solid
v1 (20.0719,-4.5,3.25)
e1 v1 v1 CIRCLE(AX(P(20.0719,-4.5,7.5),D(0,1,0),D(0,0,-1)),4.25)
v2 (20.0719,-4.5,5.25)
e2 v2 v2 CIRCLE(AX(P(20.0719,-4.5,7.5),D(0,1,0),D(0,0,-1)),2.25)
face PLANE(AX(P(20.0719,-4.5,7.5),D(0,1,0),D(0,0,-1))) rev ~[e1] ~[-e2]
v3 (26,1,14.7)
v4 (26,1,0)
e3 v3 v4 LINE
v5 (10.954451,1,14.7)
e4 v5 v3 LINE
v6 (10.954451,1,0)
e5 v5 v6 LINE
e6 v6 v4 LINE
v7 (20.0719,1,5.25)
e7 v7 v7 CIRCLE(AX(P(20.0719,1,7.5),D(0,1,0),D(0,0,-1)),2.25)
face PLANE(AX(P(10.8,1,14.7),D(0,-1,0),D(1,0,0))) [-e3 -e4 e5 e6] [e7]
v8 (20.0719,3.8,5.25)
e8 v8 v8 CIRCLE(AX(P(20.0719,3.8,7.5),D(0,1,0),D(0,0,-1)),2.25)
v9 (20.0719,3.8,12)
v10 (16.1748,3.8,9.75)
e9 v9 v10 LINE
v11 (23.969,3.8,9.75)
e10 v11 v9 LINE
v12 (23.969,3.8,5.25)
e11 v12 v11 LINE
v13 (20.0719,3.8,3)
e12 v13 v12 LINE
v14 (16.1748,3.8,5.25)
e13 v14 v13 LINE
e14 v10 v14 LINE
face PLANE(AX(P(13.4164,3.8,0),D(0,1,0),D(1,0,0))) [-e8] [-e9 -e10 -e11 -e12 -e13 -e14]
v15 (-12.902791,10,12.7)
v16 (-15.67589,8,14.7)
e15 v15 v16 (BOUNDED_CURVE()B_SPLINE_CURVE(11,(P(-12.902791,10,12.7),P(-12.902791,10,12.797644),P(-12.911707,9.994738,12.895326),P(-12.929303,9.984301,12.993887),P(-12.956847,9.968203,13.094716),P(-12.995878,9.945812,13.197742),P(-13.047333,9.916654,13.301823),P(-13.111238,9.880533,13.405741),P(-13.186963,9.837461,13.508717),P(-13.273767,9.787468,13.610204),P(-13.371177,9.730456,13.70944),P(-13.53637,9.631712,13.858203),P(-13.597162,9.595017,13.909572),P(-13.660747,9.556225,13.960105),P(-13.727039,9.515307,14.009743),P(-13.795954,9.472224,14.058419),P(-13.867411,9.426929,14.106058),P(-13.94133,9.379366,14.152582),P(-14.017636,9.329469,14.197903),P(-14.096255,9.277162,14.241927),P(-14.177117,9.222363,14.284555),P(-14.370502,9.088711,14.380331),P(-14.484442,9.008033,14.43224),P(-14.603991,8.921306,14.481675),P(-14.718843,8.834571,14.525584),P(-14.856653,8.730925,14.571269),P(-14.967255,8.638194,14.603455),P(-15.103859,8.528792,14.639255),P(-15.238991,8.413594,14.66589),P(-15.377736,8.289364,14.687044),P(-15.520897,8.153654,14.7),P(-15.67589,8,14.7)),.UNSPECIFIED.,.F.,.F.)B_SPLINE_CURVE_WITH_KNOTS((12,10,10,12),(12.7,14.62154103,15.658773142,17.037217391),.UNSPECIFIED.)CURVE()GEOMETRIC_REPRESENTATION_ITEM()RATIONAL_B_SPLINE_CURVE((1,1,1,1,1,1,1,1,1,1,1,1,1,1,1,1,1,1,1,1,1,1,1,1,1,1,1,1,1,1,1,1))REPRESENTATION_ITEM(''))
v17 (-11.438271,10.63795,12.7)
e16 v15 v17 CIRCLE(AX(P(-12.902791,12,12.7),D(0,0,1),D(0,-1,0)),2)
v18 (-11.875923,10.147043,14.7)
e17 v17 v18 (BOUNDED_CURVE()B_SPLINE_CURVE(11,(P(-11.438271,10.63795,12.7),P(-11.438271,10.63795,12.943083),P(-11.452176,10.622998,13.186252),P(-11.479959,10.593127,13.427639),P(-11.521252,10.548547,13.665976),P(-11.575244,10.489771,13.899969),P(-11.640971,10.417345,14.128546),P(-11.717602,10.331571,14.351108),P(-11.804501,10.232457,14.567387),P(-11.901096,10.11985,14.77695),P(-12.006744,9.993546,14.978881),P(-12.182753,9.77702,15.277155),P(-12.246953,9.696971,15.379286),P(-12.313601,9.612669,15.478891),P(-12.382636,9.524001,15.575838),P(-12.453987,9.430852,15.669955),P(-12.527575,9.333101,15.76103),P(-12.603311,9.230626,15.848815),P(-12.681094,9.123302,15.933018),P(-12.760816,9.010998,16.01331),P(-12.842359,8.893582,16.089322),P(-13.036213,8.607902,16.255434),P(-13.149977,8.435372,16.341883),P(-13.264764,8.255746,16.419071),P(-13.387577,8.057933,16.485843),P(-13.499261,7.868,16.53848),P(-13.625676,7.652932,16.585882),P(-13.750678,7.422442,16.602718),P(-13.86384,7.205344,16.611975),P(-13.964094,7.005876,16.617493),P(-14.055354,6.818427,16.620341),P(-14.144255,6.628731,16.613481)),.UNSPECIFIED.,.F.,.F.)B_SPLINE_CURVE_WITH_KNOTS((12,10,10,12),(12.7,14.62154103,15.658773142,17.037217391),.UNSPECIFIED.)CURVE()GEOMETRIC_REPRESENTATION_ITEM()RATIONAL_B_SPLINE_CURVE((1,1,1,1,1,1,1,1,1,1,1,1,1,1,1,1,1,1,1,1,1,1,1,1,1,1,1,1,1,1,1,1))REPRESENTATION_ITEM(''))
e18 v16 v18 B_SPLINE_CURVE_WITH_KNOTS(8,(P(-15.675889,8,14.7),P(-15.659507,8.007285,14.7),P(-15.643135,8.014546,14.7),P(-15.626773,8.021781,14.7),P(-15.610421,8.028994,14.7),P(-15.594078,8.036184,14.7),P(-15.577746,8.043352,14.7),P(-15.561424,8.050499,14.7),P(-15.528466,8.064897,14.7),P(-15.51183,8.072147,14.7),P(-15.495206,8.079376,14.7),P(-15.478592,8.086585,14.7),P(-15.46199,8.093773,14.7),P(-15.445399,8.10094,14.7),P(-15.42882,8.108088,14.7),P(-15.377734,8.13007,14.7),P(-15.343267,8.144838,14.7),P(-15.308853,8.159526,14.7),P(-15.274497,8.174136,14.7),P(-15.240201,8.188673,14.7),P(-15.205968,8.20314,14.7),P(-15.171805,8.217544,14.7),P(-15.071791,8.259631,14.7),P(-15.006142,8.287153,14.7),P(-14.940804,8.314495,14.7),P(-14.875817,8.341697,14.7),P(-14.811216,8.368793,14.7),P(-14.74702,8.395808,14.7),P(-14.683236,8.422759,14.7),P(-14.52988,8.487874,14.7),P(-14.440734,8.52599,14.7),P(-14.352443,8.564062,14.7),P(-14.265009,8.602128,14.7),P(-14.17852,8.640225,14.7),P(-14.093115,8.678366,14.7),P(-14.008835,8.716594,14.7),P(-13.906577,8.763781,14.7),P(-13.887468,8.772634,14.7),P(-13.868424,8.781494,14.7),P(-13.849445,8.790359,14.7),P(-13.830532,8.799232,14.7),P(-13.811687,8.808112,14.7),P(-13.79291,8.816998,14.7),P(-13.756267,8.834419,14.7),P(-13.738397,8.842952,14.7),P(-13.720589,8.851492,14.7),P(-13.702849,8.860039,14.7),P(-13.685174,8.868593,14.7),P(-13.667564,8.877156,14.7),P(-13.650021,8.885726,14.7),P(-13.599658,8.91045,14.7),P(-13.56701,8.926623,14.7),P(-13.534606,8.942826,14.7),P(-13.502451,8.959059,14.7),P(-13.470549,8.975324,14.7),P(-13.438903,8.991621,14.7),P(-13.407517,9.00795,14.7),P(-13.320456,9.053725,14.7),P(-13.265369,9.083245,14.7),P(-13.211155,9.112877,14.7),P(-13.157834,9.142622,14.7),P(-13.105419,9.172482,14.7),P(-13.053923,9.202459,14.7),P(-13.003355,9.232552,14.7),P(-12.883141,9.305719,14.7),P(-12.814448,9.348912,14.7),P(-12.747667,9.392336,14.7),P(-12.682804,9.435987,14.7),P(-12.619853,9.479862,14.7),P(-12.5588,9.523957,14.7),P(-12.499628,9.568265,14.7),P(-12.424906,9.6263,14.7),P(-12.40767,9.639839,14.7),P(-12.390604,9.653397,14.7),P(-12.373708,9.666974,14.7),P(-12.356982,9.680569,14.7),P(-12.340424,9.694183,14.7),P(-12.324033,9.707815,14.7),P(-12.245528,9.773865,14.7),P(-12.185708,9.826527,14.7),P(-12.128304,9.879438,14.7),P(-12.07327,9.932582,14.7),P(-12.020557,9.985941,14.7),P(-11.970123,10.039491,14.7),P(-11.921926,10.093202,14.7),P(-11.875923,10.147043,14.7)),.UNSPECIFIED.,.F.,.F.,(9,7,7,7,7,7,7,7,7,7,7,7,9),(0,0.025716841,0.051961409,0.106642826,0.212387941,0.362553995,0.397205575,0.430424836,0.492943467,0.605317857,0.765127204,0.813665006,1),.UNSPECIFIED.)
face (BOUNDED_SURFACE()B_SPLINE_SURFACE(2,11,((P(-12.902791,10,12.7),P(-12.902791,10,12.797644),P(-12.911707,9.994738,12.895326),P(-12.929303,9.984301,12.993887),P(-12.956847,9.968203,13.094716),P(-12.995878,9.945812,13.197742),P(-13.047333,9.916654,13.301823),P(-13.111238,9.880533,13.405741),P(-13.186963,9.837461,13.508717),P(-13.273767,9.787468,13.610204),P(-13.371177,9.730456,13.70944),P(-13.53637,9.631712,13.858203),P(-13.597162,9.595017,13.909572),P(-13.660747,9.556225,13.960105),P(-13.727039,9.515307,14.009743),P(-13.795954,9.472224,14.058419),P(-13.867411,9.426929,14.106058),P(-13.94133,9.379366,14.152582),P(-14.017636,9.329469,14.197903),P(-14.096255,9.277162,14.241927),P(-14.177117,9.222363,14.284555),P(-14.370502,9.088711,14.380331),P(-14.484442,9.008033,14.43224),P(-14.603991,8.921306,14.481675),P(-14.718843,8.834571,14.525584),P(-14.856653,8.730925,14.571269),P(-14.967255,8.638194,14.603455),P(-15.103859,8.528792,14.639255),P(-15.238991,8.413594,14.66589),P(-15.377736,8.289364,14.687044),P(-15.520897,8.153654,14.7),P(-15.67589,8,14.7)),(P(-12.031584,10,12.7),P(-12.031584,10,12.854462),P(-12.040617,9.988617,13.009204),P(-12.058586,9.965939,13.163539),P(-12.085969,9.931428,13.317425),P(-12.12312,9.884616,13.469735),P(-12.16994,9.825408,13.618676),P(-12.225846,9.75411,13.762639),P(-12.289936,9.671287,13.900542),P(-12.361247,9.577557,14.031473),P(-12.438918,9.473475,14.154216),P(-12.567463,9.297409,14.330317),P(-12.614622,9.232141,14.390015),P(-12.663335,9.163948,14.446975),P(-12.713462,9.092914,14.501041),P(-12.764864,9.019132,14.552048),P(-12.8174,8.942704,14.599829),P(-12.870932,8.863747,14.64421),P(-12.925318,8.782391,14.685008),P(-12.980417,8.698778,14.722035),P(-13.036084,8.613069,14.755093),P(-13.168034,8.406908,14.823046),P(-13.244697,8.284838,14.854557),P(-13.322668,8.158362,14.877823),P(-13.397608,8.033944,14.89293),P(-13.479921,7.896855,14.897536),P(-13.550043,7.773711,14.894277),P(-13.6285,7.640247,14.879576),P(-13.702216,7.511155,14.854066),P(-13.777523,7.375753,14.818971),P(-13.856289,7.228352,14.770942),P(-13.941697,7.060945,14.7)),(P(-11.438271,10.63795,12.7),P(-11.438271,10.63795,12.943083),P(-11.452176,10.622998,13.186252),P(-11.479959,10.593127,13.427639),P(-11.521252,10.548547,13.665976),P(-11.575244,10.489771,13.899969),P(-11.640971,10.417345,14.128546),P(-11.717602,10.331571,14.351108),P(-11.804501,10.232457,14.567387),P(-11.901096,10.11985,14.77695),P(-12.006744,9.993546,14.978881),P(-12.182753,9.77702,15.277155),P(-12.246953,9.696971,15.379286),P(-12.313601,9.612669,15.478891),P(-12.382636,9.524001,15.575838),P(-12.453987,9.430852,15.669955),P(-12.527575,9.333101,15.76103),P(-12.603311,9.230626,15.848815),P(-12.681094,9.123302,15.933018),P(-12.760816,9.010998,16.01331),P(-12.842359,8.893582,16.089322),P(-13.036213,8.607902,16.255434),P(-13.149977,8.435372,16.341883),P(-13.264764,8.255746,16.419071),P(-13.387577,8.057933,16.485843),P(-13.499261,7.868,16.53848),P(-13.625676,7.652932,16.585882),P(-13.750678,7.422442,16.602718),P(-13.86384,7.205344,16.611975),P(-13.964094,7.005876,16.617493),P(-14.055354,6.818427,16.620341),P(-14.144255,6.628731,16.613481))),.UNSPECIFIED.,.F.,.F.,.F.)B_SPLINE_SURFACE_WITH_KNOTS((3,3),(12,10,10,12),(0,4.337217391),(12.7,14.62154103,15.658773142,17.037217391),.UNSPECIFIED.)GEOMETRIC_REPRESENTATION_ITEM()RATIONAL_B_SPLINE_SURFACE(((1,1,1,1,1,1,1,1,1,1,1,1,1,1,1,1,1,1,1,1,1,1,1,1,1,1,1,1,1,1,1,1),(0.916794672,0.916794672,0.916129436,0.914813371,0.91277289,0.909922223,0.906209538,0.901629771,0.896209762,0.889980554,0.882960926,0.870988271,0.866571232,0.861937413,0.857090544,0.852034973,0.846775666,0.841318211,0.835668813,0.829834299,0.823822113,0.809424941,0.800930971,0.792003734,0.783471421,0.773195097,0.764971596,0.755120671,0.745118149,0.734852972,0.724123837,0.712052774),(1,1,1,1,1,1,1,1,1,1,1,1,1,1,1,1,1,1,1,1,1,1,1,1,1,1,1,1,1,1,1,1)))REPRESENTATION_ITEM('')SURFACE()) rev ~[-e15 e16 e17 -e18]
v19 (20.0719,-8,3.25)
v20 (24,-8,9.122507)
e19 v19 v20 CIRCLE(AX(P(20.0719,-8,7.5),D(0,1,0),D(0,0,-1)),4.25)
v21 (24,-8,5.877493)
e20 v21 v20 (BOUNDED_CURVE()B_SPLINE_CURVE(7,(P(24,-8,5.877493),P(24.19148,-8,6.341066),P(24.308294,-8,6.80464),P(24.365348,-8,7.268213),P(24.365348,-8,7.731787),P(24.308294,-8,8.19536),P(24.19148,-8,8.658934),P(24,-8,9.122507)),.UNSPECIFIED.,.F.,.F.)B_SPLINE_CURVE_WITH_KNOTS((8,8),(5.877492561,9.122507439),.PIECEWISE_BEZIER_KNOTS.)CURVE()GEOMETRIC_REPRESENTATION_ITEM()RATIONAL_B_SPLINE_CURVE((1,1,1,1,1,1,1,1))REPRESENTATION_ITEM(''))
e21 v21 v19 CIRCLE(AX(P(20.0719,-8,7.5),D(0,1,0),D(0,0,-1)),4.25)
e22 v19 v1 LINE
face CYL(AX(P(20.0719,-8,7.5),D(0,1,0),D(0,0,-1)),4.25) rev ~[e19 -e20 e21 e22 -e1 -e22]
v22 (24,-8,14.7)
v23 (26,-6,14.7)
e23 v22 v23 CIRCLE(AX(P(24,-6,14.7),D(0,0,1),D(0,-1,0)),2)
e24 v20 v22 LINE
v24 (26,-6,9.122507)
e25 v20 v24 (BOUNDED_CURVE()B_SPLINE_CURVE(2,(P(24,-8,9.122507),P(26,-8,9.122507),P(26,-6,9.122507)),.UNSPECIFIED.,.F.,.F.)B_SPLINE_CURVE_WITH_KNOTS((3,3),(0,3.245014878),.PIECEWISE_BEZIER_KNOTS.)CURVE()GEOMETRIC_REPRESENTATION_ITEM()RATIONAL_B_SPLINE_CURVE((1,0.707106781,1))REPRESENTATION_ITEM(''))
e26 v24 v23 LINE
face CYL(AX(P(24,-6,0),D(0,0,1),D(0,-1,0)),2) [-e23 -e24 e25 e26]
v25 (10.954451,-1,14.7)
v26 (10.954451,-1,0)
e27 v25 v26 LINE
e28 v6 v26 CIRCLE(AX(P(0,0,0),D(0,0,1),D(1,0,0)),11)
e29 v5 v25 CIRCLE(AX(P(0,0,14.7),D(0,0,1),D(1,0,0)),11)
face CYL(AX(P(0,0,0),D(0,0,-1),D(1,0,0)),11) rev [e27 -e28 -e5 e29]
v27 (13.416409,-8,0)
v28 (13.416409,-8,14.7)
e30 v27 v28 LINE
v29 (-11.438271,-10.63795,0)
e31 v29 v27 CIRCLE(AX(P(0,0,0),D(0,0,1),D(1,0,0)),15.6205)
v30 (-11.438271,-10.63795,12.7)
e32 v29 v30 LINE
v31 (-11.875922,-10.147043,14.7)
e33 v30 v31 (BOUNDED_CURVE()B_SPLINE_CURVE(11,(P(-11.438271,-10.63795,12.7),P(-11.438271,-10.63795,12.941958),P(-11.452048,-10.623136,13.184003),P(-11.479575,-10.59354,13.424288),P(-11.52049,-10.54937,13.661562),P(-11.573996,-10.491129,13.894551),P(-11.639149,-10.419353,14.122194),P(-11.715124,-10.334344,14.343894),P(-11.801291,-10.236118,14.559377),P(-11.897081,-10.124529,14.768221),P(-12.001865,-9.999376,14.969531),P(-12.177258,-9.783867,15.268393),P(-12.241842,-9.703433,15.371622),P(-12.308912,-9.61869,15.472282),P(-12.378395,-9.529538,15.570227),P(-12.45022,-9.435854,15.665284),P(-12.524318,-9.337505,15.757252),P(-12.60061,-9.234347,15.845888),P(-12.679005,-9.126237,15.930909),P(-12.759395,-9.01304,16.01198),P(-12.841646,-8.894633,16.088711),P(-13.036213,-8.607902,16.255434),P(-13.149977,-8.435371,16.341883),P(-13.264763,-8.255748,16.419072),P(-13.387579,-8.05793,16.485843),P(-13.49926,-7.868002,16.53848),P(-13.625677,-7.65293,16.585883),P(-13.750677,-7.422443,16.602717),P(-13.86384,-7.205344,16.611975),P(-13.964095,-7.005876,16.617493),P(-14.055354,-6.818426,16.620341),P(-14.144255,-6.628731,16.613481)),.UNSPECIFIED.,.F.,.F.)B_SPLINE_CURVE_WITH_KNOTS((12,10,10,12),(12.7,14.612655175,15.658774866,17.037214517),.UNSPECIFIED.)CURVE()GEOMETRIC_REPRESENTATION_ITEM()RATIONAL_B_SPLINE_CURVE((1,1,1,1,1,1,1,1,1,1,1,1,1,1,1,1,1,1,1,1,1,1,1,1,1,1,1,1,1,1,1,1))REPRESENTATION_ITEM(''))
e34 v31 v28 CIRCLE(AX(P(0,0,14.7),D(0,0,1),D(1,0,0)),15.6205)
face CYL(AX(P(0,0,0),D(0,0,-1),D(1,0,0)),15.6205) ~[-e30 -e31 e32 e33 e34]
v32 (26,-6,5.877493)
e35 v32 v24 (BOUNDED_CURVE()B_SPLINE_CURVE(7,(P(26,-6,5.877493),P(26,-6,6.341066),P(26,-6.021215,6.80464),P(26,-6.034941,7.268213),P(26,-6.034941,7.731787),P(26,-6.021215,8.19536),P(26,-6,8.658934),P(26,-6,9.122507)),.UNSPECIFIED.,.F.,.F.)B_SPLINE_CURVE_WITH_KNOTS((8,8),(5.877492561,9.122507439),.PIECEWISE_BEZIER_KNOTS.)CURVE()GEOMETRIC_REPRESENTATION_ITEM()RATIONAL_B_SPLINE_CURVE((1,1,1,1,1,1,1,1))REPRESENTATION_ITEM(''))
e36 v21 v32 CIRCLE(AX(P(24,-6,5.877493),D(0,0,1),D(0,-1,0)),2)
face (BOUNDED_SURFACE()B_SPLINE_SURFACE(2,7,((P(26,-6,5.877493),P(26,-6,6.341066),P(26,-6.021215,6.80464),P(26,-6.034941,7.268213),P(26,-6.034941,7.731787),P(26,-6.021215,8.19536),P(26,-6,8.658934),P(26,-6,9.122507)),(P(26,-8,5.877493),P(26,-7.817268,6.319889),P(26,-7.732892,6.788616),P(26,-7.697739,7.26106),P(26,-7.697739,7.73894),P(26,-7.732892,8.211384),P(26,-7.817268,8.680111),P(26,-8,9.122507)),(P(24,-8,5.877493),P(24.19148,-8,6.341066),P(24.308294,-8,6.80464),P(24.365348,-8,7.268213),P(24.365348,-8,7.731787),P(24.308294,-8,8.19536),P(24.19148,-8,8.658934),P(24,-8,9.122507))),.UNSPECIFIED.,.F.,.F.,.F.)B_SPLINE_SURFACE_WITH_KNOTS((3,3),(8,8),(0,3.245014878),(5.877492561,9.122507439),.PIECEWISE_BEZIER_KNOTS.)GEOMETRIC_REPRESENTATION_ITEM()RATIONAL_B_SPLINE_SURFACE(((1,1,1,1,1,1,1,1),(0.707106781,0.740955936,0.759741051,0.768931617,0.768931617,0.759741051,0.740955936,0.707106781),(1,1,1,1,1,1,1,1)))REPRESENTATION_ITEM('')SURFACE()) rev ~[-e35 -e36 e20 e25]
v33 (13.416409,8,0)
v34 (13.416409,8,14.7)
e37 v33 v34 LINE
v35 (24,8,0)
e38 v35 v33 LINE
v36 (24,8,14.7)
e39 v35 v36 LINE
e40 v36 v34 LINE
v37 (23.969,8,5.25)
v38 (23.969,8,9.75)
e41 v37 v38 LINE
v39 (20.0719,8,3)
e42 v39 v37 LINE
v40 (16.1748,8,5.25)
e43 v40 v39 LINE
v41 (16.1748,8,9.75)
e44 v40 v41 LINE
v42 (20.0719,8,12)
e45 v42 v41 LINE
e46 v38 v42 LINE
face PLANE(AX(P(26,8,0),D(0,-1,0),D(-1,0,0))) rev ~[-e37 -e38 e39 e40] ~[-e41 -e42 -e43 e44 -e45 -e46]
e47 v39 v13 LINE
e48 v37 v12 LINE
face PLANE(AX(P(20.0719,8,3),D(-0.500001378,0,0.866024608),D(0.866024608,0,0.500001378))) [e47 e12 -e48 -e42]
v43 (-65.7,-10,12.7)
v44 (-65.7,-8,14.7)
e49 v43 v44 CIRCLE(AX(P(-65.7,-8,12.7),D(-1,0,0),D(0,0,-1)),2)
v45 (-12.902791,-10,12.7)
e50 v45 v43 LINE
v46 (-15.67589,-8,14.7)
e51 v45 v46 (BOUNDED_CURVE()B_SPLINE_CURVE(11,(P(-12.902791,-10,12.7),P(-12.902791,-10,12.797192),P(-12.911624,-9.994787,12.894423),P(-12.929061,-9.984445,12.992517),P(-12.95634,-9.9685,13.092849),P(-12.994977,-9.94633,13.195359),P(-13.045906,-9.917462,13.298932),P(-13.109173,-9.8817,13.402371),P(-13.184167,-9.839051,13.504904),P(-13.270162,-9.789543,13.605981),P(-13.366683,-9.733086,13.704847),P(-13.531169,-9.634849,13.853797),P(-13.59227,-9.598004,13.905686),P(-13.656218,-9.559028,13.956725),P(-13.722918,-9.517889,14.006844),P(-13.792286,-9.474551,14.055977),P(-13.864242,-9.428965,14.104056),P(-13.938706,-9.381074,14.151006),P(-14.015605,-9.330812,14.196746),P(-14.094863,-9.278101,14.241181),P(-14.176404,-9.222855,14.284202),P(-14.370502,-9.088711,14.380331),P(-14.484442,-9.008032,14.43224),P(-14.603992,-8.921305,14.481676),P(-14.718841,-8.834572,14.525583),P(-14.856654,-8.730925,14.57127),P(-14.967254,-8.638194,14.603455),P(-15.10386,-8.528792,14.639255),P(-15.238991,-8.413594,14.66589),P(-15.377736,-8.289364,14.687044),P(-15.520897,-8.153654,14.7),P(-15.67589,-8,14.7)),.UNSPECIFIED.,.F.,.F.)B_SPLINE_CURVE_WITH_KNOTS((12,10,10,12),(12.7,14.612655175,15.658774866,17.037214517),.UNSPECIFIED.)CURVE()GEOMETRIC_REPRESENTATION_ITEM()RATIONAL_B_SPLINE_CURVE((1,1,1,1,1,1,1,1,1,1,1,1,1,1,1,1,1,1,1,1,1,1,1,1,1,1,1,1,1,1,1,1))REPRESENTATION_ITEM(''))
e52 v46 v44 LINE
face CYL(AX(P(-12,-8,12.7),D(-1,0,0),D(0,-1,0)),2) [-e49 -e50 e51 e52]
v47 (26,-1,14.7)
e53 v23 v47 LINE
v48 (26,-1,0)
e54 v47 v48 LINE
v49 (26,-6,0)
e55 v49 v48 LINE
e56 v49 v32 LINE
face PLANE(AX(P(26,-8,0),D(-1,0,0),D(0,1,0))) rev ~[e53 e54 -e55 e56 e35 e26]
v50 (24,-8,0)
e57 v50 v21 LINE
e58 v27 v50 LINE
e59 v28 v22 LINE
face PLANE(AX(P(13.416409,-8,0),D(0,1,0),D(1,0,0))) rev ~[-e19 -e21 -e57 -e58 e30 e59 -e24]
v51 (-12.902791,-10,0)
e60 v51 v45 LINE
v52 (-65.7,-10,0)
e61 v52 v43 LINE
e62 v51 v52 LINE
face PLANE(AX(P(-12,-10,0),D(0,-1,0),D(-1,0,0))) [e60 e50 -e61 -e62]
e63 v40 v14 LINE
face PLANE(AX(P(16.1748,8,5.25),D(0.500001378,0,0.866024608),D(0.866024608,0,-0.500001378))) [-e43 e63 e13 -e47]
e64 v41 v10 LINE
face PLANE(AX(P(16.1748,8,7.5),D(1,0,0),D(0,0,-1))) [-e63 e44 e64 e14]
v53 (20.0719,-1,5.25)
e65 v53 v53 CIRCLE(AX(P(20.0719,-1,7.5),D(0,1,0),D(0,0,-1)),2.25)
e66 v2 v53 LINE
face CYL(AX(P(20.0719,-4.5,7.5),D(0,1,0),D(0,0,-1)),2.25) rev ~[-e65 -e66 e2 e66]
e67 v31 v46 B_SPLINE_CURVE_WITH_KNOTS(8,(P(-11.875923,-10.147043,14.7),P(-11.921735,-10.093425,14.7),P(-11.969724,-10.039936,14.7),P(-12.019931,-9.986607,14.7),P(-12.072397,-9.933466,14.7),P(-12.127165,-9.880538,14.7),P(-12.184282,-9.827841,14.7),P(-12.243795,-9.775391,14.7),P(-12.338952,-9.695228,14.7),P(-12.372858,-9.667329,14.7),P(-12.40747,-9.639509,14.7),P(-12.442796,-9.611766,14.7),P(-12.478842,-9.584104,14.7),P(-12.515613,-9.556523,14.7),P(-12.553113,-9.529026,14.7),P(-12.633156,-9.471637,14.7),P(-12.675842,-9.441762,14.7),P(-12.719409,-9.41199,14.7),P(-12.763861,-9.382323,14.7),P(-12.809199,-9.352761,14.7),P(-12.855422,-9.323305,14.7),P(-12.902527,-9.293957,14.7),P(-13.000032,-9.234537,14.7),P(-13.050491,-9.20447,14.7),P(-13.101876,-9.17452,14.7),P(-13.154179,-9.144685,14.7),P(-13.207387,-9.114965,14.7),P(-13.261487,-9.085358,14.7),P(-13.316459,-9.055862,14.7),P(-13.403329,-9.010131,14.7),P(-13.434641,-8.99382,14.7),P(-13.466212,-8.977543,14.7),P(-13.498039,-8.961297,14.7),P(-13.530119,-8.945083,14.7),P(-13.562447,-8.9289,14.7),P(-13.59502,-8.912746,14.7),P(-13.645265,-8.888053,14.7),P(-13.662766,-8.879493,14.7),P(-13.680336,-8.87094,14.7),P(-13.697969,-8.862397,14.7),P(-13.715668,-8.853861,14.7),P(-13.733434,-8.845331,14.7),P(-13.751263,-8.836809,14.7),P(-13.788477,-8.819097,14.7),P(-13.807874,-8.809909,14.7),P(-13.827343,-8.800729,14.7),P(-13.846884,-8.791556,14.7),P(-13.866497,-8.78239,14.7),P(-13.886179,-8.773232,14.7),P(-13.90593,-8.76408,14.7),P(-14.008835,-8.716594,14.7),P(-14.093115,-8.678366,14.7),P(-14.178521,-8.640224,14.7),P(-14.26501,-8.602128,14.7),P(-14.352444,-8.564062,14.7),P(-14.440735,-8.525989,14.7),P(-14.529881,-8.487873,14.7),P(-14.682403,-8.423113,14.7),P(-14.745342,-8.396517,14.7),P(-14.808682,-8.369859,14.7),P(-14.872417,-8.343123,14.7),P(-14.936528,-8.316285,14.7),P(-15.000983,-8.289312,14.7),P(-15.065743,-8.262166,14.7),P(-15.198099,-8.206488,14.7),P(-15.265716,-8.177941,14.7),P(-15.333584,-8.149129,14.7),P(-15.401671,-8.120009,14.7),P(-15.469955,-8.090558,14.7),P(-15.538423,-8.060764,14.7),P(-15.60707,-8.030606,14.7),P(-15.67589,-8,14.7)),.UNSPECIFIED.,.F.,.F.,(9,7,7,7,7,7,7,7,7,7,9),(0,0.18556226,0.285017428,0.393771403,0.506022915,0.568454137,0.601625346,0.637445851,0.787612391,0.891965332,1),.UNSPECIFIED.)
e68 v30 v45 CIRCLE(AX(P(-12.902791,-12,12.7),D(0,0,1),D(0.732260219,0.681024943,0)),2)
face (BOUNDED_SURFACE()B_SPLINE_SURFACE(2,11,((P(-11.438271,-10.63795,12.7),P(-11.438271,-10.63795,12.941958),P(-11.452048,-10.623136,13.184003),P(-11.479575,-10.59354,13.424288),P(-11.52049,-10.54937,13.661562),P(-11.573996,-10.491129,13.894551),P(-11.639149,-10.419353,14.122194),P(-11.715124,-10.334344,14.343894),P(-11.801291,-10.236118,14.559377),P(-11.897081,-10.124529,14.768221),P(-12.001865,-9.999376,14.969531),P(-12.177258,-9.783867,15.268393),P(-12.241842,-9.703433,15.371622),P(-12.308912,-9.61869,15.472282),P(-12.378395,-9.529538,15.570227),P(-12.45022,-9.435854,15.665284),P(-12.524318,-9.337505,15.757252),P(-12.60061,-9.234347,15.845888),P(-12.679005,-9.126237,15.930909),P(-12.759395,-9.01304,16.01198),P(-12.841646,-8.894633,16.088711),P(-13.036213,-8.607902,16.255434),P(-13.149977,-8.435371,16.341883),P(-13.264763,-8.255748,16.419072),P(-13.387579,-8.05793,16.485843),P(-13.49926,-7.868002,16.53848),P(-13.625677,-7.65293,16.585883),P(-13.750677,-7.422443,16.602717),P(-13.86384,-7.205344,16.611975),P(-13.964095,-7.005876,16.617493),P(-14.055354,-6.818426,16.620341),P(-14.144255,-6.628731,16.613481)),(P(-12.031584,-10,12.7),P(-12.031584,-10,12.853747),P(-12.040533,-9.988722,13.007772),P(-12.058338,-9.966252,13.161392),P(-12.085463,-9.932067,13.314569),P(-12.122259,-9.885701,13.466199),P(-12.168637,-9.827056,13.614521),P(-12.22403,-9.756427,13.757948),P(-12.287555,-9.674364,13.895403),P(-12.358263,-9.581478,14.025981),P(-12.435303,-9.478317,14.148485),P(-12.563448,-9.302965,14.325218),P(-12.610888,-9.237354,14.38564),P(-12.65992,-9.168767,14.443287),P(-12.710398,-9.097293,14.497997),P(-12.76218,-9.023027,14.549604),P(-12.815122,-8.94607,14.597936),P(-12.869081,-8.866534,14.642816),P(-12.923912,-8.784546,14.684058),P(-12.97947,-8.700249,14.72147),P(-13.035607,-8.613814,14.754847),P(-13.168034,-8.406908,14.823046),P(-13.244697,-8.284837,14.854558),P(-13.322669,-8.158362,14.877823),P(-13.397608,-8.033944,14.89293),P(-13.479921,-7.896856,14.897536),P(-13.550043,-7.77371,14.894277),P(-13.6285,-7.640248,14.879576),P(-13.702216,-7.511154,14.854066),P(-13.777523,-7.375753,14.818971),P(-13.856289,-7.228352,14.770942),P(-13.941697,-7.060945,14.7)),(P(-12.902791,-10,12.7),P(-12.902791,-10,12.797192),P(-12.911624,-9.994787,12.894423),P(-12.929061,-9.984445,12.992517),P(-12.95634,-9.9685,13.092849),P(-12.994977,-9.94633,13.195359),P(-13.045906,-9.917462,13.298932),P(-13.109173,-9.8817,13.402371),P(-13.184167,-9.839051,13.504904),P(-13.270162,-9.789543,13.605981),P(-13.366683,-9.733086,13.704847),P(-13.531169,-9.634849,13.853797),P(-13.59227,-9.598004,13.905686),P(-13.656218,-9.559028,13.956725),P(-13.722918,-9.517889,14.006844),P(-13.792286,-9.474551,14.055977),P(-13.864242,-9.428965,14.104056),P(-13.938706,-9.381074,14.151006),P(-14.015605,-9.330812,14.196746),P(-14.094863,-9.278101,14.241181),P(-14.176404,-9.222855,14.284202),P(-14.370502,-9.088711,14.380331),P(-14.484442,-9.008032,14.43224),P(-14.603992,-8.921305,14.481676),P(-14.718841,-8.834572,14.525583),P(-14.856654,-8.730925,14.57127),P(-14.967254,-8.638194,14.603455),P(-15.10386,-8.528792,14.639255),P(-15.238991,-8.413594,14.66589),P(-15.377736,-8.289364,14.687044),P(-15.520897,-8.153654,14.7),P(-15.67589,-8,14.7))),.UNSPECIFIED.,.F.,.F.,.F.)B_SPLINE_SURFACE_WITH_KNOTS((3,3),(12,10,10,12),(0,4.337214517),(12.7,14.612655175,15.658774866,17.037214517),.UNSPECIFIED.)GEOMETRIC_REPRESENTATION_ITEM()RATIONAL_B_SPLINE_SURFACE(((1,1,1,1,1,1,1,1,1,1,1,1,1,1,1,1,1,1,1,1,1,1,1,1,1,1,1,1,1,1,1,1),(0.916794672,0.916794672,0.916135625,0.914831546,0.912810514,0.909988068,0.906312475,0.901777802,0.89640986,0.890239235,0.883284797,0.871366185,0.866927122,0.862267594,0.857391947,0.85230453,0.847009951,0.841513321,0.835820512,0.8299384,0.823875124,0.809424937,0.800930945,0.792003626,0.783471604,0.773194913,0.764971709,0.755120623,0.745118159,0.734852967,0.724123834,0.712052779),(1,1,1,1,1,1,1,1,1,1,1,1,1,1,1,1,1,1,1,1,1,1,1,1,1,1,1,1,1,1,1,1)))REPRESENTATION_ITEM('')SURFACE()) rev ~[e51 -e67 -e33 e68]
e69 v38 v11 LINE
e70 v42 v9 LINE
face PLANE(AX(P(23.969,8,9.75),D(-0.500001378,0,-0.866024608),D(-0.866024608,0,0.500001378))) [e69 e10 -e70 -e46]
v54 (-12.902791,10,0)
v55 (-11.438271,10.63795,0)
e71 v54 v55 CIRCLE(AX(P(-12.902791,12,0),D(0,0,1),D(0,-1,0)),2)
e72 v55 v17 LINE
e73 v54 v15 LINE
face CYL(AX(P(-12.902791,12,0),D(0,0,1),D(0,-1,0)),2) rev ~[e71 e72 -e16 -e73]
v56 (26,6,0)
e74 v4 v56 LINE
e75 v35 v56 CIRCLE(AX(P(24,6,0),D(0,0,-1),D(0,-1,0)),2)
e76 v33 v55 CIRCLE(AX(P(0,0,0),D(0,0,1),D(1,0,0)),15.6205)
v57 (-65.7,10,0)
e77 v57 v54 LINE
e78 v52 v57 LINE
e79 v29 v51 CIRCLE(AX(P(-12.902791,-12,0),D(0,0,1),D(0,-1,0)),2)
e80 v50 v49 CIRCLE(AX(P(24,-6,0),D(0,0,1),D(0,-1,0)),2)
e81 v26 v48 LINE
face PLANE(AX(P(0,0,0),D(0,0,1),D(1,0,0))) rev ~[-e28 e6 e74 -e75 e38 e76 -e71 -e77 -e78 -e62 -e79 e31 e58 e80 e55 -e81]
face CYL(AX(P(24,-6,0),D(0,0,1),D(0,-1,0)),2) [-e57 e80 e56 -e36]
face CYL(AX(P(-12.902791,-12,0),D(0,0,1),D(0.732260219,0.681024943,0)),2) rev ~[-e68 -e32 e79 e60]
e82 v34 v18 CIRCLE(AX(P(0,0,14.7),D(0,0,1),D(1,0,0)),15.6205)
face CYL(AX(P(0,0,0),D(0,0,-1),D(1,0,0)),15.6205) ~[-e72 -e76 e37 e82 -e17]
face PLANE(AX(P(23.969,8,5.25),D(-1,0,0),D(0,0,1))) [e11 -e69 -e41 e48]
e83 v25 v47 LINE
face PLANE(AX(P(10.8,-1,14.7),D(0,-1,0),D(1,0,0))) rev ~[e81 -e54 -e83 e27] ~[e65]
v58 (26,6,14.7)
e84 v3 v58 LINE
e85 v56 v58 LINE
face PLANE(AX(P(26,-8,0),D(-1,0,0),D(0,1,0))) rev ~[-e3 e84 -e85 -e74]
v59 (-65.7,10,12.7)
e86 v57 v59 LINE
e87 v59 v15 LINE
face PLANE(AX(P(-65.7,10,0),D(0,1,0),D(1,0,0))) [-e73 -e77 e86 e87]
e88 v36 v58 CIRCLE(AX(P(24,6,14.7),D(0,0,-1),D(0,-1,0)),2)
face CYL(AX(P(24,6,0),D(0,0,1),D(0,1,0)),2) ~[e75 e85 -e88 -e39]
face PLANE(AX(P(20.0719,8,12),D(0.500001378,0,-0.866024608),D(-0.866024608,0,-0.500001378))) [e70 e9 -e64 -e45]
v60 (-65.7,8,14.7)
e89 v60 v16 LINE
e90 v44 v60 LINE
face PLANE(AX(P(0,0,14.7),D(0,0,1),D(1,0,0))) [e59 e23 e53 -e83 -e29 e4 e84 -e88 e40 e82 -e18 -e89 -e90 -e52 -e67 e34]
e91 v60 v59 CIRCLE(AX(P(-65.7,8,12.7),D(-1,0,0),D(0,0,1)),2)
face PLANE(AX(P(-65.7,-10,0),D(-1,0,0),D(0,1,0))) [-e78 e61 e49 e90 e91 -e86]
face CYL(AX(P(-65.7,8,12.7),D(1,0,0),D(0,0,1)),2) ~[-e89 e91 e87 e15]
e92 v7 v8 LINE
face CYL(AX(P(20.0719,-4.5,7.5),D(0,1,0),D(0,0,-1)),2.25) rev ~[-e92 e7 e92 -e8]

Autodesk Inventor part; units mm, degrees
ref_plane "YZ Plane" through (0, 0, 0) normal (1, 0, 0) x (0, 1, 0)
ref_plane "XZ Plane" through (0, 0, 0) normal (0, 1, 0) x (-1, 0, 0)
ref_plane "XY Plane" through (0, 0, 0) normal (0, 0, 1) x (1, 0, 0)
sketch "Sketch1" plane through (0, 0, 0) normal (0, 0, 1) x (1, 0, 0)
  circle A0 centre (0, 0) radius 11
  circle A1 centre (0, 0) radius 15.6205
  line L0 (26, 8) -> (11, 8)
  line L1 (11, 8) -> (11, -8)
  line L2 (11, -8) -> (26, -8)
  line L3 (26, -8) -> (26, 8)
  line L4 (-65.7, 10) -> (-12, 10)
  line L5 (-12, 10) -> (-12, -10)
  line L6 (-12, -10) -> (-65.7, -10)
  line L7 (-65.7, -10) -> (-65.7, 10)
  point P0 (13.4164, 8)
  point P1 (13.4164, -8)
  point P2 (-12, -10)
  point P3 (-12, 10)
  point P4 (-12, 0)
  dimension "d0" = 22
  dimension "d1" = 31.241
  dimension "d10" = 15
  dimension "d11" = 16
  dimension "d45" = 53.7
  dimension "d46" = 20
extrude "Extrusion1" add sketch "Sketch1" along normal blind 14.7
sketch "Sketch2" plane through (0, 0, 14.7) normal (0, 0, 1) x (1, 0, 0)
  circle A0 centre (0, 0) radius 11 projected
  line L0 (26, -8) -> (26, 8) projected
  line L1 (26, 0) -> (10.8, 0)
  line L2 (10.8, 0) -> (10.8, 1)
  line L3 (10.8, 1) -> (26, 1)
  line L4 (26, 1) -> (26, 0)
  line L5 (26, 0) -> (10.8, 0)
  line L6 (10.8, 0) -> (10.8, -1)
  line L7 (10.8, -1) -> (26, -1)
  line L8 (26, -1) -> (26, 0)
  point P0 (10.9545, 1)
  point P1 (10.9545, -1)
  dimension "d20" = 15.2
  dimension "d21" = 1
  dimension "d22" = 1
extrude "Extrusion2" cut sketch "Sketch2" against normal blind 15 contours L1 L2 L3 A0 | L1 L0 L7 A0 | A0 L3 L0 L1 | A0 L7 L6 L1
sketch "Sketch3" plane through (13.4164, -8, 0) normal (0, -1, 0) x (1, 0, 0)
  line L0 (0, 0) -> (0, 14.7) projected
  line L1 (0, 0) -> (6.6555, 0)
  line L2 (6.6555, 0) -> (6.6555, 7.5)
  line L3 (6.6555, 7.5) -> (0, 7.5)
  line L4 (0, 7.5) -> (0, 0)
  point P0 (-13.4164, 0)
  dimension "d25" = 6.6555
  dimension "d26" = 7.5
hole "Hole1" at (20.0719, -8, 7.5) direction (0, 1, 0) diameter 4.5 depth 12.5 counterbore diameter 8.5 counterbore depth 3.5
sketch "Sketch4" plane through (13.4164, 8, 0) normal (0, 1, 0) x (1, 0, 0)
  line L0 (12.5836, 0) -> (0, 0) projected
  line L1 (0, 0) -> (6.6555, 0)
  line L2 (6.6555, 0) -> (6.6555, -7.5)
  line L3 (6.6555, -7.5) -> (0, -7.5)
  line L4 (0, -7.5) -> (0, 0)
  line L5 (6.6555, -7.5) -> (6.6555, -12)
  line L6 (6.6555, -7.5) -> (11.1555, -7.5) construction
  line L7 (6.6555, -12) -> (2.7584, -9.75)
  line L8 (2.7584, -9.75) -> (2.7584, -5.25)
  line L9 (2.7584, -5.25) -> (6.6555, -3)
  line L10 (6.6555, -3) -> (10.5526, -5.25)
  line L11 (10.5526, -5.25) -> (10.5526, -9.75)
  line L12 (10.5526, -9.75) -> (6.6555, -12)
  point P0 (-13.4164, 0)
  dimension "d51" = 6.6555
  dimension "d52" = 7.5
  dimension "d53" = 4.5
  dimension "d54" = 90
extrude "Extrusion3" cut sketch "Sketch4" against normal blind 4.2 contours L10 L11 L12 L5 L2 | L2 L3 L8 L9 | L5 L7 L8 L3
fillet "Fillet1" radius 2 2 edges at (-38.85, 10, 14.7) (-38.85, -10, 14.7)
fillet "Fillet2" radius 2 4 edges at (-12, -10, 6.35) (-12.4535, -9.4292, 14.0991) (-12, 10, 6.35) (-12.4535, 9.4292, 14.0991)
fillet "Fillet3" radius 2 2 edges at (26, -8, 7.35) (26, 8, 7.35)
properties part number "Clasp"
